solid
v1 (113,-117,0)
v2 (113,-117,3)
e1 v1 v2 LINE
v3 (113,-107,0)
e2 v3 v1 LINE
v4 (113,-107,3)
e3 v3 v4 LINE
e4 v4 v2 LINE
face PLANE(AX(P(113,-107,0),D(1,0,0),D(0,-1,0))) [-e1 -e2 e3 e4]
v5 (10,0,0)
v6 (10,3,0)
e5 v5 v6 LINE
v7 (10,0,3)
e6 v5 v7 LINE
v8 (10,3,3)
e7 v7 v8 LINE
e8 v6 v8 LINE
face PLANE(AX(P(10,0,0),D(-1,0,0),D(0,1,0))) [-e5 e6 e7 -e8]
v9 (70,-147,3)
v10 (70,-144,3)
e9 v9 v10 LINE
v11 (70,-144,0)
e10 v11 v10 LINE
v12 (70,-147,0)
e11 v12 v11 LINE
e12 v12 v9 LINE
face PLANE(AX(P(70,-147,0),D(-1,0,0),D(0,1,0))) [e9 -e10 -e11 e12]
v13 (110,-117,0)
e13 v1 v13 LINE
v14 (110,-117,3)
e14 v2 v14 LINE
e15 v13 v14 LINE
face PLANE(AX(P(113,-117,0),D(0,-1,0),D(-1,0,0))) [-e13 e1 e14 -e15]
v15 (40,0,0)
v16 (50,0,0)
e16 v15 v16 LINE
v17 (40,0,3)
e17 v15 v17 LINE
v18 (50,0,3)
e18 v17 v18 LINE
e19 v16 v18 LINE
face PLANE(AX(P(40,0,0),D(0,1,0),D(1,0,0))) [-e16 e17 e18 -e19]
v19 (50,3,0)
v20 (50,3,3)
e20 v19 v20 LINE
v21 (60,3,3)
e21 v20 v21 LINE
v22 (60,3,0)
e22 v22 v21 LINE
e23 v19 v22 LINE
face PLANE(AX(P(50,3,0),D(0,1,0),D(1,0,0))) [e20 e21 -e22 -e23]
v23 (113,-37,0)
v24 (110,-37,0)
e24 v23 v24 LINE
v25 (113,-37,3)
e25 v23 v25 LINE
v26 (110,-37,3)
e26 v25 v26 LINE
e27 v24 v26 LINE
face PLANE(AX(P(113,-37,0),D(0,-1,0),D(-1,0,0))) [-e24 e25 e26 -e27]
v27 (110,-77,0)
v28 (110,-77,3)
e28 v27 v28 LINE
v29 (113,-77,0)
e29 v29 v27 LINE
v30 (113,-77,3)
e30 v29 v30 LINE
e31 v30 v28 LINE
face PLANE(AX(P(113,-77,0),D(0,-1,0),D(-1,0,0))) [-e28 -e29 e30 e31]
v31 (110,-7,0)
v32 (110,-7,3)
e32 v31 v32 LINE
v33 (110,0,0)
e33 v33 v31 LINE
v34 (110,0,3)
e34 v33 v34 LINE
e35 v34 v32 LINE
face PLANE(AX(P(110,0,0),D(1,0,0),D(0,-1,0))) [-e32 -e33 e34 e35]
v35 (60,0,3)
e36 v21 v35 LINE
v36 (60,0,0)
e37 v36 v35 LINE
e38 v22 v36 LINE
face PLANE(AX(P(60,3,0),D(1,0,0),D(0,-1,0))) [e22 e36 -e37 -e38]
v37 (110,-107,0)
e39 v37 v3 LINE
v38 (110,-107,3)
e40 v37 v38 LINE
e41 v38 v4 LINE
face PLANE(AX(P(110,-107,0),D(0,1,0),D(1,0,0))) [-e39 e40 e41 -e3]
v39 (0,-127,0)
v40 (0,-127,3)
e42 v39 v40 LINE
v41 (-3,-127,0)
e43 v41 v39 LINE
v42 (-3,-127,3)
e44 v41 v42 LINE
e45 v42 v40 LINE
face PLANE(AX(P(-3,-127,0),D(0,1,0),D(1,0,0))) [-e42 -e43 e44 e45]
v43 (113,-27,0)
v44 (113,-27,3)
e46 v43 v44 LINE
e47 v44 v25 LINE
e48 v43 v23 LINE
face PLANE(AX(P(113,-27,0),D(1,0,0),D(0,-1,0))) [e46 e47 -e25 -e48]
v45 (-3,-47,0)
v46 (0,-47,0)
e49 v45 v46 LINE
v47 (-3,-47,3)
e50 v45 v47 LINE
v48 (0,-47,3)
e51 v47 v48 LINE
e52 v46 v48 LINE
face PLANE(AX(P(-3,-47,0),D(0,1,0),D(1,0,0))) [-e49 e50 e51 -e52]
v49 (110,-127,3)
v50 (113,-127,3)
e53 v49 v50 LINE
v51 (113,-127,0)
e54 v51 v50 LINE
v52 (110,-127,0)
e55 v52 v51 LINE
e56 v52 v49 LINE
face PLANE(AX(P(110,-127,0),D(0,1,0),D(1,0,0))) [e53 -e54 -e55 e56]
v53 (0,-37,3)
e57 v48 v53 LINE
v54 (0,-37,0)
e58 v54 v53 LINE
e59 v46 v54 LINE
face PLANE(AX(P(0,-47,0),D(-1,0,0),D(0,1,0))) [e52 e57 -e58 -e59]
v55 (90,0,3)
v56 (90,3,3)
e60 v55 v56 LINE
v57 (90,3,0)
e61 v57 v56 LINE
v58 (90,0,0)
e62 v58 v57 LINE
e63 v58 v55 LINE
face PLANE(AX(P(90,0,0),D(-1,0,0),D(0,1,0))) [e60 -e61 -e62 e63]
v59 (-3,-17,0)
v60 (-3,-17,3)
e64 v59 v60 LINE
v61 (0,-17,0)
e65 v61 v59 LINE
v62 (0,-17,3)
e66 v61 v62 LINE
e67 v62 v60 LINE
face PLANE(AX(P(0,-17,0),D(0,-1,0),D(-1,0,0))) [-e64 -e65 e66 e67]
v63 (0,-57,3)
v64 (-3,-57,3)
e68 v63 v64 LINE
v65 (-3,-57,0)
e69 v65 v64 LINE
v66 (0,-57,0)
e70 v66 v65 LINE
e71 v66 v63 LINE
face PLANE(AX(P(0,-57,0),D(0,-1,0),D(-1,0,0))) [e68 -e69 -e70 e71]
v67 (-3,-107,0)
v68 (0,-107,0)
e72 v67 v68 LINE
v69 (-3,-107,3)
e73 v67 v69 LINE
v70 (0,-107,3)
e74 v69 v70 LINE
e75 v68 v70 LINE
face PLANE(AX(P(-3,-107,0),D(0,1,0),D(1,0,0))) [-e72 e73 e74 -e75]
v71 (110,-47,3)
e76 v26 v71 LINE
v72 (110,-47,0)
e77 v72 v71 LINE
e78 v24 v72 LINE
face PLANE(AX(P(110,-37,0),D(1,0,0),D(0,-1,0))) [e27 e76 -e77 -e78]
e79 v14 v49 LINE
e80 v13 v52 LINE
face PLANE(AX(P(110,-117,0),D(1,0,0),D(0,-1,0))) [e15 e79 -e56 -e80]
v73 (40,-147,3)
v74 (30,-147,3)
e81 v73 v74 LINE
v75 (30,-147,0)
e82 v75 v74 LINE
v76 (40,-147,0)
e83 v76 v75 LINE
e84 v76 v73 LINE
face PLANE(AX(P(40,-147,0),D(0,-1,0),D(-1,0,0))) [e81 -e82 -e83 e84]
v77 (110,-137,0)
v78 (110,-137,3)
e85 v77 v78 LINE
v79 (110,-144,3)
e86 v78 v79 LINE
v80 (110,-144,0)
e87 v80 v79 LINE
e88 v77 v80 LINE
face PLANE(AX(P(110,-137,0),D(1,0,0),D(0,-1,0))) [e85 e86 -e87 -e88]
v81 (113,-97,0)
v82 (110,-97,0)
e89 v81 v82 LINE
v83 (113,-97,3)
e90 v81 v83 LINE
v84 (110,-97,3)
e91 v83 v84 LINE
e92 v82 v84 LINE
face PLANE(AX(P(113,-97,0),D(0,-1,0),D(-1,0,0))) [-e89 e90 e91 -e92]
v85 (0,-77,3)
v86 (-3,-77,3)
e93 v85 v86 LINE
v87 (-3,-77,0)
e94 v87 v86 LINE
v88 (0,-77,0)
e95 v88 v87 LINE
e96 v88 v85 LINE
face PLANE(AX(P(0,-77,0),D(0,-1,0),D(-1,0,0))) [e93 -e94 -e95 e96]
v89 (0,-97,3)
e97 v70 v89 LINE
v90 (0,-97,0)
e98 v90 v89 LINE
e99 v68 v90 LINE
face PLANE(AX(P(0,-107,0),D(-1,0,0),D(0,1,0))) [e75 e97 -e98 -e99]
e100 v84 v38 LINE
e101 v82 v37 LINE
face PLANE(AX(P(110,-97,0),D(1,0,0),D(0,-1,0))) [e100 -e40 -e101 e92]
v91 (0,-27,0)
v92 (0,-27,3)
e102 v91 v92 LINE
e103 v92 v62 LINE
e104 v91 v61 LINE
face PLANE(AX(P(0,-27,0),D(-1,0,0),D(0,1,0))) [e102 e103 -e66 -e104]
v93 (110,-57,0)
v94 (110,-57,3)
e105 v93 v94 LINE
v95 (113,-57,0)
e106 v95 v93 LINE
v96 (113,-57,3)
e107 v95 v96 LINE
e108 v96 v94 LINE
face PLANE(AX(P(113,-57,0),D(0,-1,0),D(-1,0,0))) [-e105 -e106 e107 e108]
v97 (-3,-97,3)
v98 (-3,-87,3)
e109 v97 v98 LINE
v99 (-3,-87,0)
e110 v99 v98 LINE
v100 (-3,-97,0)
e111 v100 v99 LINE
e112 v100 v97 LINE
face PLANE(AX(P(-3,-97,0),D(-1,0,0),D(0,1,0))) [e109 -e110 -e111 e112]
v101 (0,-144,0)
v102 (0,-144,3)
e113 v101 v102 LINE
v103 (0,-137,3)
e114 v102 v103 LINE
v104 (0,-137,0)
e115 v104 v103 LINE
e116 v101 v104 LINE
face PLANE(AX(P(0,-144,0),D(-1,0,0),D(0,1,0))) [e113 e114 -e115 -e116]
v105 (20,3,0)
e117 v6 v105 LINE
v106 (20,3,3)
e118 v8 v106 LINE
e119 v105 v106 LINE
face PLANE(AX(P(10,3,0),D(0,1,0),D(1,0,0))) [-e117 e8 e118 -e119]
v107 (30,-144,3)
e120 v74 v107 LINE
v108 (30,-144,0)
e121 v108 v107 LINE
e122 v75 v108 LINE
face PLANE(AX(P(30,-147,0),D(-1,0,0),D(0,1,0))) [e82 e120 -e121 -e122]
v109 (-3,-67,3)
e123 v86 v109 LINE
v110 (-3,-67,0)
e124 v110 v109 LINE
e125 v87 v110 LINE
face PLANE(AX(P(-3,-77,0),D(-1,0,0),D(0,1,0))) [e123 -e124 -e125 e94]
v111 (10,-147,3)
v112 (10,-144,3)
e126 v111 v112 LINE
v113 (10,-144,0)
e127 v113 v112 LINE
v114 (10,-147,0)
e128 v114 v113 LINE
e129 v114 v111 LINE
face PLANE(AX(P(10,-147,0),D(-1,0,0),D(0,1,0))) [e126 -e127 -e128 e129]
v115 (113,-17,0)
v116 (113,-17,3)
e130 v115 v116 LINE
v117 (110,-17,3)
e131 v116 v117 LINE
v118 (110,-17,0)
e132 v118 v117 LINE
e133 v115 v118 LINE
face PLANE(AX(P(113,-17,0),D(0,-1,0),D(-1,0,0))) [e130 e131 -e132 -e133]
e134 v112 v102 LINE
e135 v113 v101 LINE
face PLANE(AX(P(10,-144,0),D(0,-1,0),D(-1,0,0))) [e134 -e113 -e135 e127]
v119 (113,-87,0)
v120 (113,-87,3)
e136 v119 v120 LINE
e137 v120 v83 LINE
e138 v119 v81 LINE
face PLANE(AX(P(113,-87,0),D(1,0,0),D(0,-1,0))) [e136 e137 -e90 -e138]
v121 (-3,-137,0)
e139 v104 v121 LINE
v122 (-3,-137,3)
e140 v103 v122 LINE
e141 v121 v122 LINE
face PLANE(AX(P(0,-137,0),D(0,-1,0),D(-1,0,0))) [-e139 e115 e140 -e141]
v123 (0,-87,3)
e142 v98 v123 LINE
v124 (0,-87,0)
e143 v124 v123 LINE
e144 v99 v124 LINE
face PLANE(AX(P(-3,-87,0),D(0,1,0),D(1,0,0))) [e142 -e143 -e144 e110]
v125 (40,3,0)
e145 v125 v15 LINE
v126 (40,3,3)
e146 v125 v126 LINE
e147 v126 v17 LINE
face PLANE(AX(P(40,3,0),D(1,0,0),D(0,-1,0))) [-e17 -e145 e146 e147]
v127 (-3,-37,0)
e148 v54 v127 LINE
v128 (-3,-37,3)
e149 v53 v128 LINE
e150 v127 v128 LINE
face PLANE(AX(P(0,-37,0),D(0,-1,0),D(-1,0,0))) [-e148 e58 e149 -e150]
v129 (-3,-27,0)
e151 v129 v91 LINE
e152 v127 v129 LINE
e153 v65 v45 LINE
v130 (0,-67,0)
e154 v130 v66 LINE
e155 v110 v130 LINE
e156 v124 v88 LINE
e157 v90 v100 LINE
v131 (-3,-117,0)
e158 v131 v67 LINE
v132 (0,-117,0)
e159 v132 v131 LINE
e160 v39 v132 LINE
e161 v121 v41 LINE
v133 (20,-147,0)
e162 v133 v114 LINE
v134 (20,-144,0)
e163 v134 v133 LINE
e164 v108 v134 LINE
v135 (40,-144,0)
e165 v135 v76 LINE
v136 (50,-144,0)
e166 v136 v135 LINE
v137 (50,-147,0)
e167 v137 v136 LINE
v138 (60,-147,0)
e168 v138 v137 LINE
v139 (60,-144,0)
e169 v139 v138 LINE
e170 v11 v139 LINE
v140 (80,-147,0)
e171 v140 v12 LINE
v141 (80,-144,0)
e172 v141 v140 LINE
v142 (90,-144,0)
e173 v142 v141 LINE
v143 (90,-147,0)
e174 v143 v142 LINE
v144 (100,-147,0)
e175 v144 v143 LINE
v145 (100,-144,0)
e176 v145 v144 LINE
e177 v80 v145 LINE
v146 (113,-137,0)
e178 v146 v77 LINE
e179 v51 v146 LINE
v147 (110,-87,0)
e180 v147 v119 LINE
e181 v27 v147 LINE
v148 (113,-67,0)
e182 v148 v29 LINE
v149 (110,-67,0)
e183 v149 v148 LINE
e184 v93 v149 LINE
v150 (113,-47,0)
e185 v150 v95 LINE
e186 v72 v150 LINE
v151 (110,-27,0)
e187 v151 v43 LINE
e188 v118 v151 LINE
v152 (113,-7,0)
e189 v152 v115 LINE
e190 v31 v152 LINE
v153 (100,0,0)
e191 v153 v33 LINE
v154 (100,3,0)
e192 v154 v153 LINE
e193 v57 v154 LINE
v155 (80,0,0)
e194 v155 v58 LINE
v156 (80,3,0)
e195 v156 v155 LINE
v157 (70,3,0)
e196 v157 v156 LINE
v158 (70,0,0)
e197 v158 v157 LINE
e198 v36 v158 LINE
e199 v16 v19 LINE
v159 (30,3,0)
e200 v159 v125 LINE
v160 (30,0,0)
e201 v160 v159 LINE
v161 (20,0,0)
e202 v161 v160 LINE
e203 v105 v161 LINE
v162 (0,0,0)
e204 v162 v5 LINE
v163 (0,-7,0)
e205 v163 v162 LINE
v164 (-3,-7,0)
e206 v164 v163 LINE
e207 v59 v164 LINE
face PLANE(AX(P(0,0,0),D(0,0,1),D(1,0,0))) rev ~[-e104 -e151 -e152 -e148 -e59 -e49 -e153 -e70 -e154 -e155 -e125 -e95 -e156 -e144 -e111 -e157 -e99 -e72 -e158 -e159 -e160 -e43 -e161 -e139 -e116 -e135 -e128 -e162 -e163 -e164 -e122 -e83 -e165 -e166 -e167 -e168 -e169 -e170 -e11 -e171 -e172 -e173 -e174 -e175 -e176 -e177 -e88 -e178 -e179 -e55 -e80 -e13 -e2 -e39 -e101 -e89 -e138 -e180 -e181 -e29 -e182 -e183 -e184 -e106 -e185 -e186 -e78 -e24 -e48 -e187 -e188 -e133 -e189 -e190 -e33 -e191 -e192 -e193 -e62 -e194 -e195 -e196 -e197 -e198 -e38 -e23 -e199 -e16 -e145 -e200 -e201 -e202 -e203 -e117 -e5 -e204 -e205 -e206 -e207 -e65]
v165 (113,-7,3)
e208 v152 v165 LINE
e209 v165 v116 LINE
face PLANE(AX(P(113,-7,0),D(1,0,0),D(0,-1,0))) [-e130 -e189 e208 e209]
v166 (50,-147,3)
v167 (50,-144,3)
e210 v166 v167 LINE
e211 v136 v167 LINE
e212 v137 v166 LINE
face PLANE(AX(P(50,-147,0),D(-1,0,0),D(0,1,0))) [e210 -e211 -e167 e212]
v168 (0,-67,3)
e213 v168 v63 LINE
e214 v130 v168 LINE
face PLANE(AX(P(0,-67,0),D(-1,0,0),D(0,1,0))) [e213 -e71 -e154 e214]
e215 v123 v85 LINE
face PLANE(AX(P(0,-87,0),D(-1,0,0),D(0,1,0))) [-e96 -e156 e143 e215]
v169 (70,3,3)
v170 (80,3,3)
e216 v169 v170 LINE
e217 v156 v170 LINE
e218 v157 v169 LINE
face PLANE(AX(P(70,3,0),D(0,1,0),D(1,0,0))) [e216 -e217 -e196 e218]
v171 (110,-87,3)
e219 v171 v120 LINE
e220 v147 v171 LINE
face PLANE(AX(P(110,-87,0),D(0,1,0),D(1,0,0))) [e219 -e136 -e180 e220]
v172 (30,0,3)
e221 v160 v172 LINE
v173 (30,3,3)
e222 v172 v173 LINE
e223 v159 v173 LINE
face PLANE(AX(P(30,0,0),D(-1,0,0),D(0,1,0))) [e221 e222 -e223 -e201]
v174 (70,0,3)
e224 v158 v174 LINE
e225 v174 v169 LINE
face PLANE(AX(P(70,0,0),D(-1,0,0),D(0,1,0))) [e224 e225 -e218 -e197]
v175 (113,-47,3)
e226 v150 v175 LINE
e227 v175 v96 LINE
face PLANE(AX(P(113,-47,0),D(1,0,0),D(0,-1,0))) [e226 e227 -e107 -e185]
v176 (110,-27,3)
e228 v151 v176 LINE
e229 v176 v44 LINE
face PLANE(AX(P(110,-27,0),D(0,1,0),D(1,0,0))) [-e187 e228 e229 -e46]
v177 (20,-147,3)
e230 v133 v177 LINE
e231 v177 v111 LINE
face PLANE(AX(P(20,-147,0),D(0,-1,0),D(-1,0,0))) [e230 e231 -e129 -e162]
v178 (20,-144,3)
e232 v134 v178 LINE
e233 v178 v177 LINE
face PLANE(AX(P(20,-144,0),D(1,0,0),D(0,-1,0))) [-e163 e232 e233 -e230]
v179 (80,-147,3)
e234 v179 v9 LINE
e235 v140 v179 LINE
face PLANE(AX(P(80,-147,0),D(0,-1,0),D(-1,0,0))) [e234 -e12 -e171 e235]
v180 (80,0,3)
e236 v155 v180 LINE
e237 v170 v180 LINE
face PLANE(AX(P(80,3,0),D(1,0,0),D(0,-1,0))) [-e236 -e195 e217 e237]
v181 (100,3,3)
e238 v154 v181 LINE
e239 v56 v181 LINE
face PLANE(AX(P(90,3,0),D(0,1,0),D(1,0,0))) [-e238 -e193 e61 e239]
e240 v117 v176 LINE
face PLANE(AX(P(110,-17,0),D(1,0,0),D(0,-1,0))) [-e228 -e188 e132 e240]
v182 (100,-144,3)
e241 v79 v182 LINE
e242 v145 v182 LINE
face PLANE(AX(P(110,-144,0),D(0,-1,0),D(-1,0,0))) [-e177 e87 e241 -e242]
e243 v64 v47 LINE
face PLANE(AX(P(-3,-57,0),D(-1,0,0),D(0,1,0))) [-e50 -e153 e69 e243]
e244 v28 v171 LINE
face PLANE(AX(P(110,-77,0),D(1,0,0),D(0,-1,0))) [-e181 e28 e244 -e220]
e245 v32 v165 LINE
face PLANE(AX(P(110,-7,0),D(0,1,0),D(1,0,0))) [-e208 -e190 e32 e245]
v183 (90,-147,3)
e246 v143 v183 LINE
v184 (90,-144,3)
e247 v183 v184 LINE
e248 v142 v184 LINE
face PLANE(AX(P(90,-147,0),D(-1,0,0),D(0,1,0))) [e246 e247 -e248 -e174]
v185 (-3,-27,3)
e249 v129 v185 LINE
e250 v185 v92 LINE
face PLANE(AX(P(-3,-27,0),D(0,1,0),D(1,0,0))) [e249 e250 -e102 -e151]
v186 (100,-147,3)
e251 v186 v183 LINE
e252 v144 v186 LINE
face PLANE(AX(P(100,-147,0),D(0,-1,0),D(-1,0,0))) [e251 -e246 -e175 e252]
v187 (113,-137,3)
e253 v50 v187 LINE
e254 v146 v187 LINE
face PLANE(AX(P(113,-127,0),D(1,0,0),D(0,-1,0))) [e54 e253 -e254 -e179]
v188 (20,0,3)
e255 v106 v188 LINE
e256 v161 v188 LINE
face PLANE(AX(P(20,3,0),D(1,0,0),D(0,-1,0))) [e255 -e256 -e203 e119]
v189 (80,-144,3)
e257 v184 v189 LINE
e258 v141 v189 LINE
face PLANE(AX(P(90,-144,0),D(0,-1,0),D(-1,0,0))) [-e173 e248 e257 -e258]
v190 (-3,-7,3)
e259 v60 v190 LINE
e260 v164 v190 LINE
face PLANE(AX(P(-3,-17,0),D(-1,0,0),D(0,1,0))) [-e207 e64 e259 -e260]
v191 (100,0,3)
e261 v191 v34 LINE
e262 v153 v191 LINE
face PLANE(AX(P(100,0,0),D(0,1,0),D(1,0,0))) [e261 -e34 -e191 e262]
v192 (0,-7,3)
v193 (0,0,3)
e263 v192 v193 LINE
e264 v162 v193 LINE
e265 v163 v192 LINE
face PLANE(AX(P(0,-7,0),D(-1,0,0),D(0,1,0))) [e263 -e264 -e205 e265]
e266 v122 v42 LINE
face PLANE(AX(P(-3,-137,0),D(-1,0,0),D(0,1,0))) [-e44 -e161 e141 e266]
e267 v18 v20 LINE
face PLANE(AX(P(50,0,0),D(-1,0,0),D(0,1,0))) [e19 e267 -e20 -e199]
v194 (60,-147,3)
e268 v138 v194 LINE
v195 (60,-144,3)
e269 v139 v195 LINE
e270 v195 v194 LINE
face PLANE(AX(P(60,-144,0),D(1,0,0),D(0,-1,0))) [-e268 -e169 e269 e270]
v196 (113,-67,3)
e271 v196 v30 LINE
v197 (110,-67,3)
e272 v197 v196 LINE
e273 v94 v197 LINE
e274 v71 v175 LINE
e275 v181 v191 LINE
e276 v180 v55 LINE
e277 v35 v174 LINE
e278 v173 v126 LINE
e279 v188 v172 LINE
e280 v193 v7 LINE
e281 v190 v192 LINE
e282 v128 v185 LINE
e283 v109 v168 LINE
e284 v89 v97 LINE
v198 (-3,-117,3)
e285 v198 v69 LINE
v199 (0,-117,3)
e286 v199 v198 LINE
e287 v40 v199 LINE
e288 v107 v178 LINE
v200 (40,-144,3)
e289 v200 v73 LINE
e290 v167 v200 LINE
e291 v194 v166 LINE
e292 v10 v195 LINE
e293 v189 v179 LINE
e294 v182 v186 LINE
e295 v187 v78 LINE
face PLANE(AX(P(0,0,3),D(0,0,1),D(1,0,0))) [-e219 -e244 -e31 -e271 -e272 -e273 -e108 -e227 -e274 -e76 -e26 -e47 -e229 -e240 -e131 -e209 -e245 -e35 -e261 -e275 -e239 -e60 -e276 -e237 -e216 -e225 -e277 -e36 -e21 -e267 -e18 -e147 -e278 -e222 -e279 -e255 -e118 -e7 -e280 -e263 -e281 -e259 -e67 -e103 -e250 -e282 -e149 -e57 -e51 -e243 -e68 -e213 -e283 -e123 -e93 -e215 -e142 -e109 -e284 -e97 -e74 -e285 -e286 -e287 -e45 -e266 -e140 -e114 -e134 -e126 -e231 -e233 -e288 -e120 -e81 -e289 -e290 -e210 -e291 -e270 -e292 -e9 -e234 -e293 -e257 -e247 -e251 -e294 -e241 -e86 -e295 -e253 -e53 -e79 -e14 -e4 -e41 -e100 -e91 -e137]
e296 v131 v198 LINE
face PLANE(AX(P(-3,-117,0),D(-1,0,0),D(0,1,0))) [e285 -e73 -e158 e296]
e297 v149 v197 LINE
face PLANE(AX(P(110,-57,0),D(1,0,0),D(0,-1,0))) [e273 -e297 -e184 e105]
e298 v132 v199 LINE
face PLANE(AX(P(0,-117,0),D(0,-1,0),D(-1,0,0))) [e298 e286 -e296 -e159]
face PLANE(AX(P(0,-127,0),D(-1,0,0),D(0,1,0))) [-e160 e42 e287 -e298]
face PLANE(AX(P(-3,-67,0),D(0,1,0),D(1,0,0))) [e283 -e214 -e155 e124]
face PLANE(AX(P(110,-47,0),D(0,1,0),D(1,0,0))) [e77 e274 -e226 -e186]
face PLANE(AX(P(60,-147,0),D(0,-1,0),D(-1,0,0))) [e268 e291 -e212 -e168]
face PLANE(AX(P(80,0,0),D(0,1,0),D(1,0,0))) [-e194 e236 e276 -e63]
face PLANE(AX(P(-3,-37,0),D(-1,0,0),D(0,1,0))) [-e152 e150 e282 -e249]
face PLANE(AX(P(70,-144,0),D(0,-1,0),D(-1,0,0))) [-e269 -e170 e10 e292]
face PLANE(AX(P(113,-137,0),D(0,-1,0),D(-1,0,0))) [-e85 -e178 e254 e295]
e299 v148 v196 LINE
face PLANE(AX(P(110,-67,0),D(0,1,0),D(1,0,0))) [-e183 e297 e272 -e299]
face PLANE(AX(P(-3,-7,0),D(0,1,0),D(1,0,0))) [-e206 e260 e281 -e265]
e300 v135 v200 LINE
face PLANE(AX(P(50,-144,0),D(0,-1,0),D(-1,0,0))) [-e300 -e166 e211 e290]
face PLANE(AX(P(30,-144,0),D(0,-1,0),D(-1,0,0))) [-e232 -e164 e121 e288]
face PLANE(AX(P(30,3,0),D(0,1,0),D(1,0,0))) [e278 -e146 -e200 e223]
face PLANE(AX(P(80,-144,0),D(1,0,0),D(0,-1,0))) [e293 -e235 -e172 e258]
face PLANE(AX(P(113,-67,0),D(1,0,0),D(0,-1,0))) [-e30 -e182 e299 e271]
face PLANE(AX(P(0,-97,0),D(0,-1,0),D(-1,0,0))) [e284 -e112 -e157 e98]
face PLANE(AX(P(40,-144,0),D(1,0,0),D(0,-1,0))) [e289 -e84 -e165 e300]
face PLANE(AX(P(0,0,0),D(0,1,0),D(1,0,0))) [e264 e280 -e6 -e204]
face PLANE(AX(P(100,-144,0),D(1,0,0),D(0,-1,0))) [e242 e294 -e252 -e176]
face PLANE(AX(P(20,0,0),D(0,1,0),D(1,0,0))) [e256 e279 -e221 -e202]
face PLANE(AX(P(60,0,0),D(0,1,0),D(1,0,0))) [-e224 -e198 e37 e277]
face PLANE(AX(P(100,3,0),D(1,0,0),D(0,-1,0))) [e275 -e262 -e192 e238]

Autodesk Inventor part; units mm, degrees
ref_plane "YZ Plane" through (0, 0, 0) normal (1, 0, 0) x (0, 1, 0)
ref_plane "XZ Plane" through (0, 0, 0) normal (0, 1, 0) x (-1, 0, 0)
ref_plane "XY Plane" through (0, 0, 0) normal (0, 0, 1) x (1, 0, 0)
sketch "Sketch1" plane through (0, 0, 0) normal (0, 0, 1) x (1, 0, 0)
  line L0 (311.0517, -16.9965) -> (311.0486, -14.2996) construction
  line L1 (311.0486, -14.2996) -> (302.0591, -14.3097) construction
  line L2 (302.0591, -14.3097) -> (302.0622, -17.0066) construction
  line L3 (302.0622, -17.0066) -> (293.0727, -17.0167) construction
  line L4 (293.0727, -17.0167) -> (293.0696, -14.3199) construction
  line L5 (293.0696, -14.3199) -> (284.0801, -14.33) construction
  line L6 (284.0801, -14.33) -> (284.0832, -17.0268) construction
  line L7 (284.0832, -17.0268) -> (275.0937, -17.0369) construction
  line L8 (275.0937, -17.0369) -> (275.0906, -14.3401) construction
  line L9 (275.0906, -14.3401) -> (266.1012, -14.3502) construction
  line L10 (266.1012, -14.3502) -> (266.1042, -17.047) construction
  line L11 (266.1042, -17.047) -> (257.1147, -17.0571) construction
  line L12 (257.1147, -17.0571) -> (257.1117, -14.3603) construction
  line L13 (257.1117, -14.3603) -> (248.1222, -14.3704) construction
  line L14 (248.1222, -14.3704) -> (248.1252, -17.0672) construction
  line L15 (248.1252, -17.0672) -> (239.1357, -17.0773) construction
  line L16 (239.1357, -17.0773) -> (239.1327, -14.3805) construction
  line L17 (239.1327, -14.3805) -> (230.1432, -14.3906) construction
  line L18 (230.1432, -14.3906) -> (230.1462, -17.0874) construction
  line L19 (320.0411, -23.2891) -> (322.738, -23.2891) construction
  line L20 (322.738, -23.2891) -> (322.738, -32.986) construction
  line L21 (322.738, -32.986) -> (320.0411, -32.986) construction
  line L22 (320.0411, -32.986) -> (320.0411, -41.9755) construction
  line L23 (320.0411, -41.9755) -> (322.738, -41.9755) construction
  line L24 (322.738, -41.9755) -> (322.738, -50.965) construction
  line L25 (322.738, -50.965) -> (320.0411, -50.965) construction
  line L26 (320.0411, -50.965) -> (320.0411, -59.9545) construction
  line L27 (320.0411, -59.9545) -> (322.738, -59.9545) construction
  line L28 (322.738, -59.9545) -> (322.738, -68.944) construction
  line L29 (322.738, -68.944) -> (320.0411, -68.944) construction
  line L30 (320.0411, -68.944) -> (320.0411, -77.9335) construction
  line L31 (320.0411, -77.9335) -> (322.738, -77.9335) construction
  line L32 (322.738, -77.9335) -> (322.738, -86.9229) construction
  line L33 (322.738, -86.9229) -> (320.0411, -86.9229) construction
  line L34 (320.0411, -86.9229) -> (320.0411, -95.9124) construction
  line L35 (320.0411, -95.9124) -> (322.738, -95.9124) construction
  line L36 (322.738, -95.9124) -> (322.738, -104.9019) construction
  line L37 (322.738, -104.9019) -> (320.0411, -104.9019) construction
  line L38 (322.738, -113.8914) -> (323.0503, -123.1532) construction
  line L39 (323.0503, -123.1532) -> (328.4284, -122.9718) construction
  line L40 (328.4284, -122.9718) -> (328.4284, -131.9613) construction
  line L41 (328.4284, -131.9613) -> (331.1252, -131.9613) construction
  line L42 (331.1252, -131.9613) -> (331.1252, -140.9508) construction
  line L43 (331.1252, -140.9508) -> (328.4284, -140.9508) construction
  line L44 (328.4284, -140.9508) -> (328.4284, -147.2435) construction
  line L45 (318.4284, -147.2435) -> (318.4284, -149.9403) construction
  line L46 (318.4284, -149.9403) -> (308.4284, -149.9403) construction
  line L47 (308.4284, -149.9403) -> (308.4284, -147.2435) construction
  line L48 (308.4284, -147.2435) -> (298.4284, -147.2435) construction
  line L49 (298.4284, -147.2435) -> (298.4284, -149.9403) construction
  line L50 (298.4284, -149.9403) -> (288.4284, -149.9403) construction
  line L51 (288.4284, -149.9403) -> (288.4284, -147.2435) construction
  line L52 (288.4284, -147.2435) -> (278.4284, -147.2435) construction
  line L53 (278.4284, -147.2435) -> (278.4284, -149.9403) construction
  line L54 (278.4284, -149.9403) -> (268.4284, -149.9403) construction
  line L55 (268.4284, -149.9403) -> (268.4284, -147.2435) construction
  line L56 (268.4284, -147.2435) -> (258.4284, -147.2435) construction
  line L57 (258.4284, -147.2435) -> (258.4284, -149.9403) construction
  line L58 (258.4284, -149.9403) -> (248.4284, -149.9403) construction
  line L59 (248.4284, -149.9403) -> (248.4284, -147.2435) construction
  line L60 (248.4284, -147.2435) -> (239.4389, -147.2435) construction
  line L61 (239.4389, -147.2435) -> (239.4389, -149.9403) construction
  line L62 (239.4389, -149.9403) -> (230.4494, -149.9403) construction
  line L63 (230.4494, -149.9403) -> (230.4494, -147.2435) construction
  line L64 (218.4599, -140.9508) -> (218.4599, -131.9613) construction
  line L65 (218.4599, -131.9613) -> (221.1567, -131.9613) construction
  line L66 (221.1567, -131.9613) -> (221.1567, -122.9718) construction
  line L67 (221.1567, -122.9718) -> (218.4599, -122.9718) construction
  line L68 (218.4599, -122.9718) -> (218.4599, -113.9823) construction
  line L69 (218.4599, -113.9823) -> (221.1567, -113.9823) construction
  line L70 (221.1567, -113.9823) -> (221.1567, -104.9929) construction
  line L71 (221.1567, -104.9929) -> (218.4599, -104.9929) construction
  line L72 (218.4599, -104.9929) -> (218.4599, -96.0034) construction
  line L73 (218.4599, -96.0034) -> (221.1567, -96.0034) construction
  line L74 (221.1567, -96.0034) -> (221.1567, -87.0139) construction
  line L75 (221.1567, -87.0139) -> (218.4599, -87.0139) construction
  line L76 (218.4599, -87.0139) -> (218.4599, -78.0244) construction
  line L77 (218.4599, -78.0244) -> (221.1567, -78.0244) construction
  line L78 (221.1567, -78.0244) -> (221.1567, -69.0349) construction
  line L79 (221.1567, -69.0349) -> (218.4599, -69.0349) construction
  line L80 (218.4599, -69.0349) -> (218.4599, -60.0454) construction
  line L81 (218.4599, -60.0454) -> (221.1567, -60.0454) construction
  line L82 (221.1567, -60.0454) -> (221.1567, -51.0559) construction
  line L83 (221.1567, -51.0559) -> (218.4599, -51.0559) construction
  line L84 (218.4599, -51.0559) -> (218.4599, -42.0664) construction
  line L85 (218.4599, -42.0664) -> (221.1567, -42.0664) construction
  line L86 (221.1567, -42.0664) -> (221.1567, -33.0769) construction
  line L87 (221.1567, -33.0769) -> (218.4599, -33.0769) construction
  line L88 (218.4599, -33.0769) -> (218.4599, -24.0874) construction
  line L89 (218.4599, -24.0874) -> (221.1567, -24.0874) construction
  line L90 (221.1567, -24.0874) -> (221.1567, -17.0874) construction
  line L91 (320.0411, -104.9019) -> (320.0411, -113.8914) construction
  line L92 (320.0411, -113.8914) -> (322.738, -113.8914) construction
  line L93 (318.4284, -147.2435) -> (328.4284, -147.2435) construction
  line L94 (221.1567, -17.0874) -> (230.1462, -17.0874) construction
  line L95 (221.4599, -147.2435) -> (230.4494, -147.2435) construction
  line L96 (311.0517, -16.9965) -> (320.0411, -16.9965) construction
  line L97 (320.0411, -16.9965) -> (320.0411, -23.2891) construction
  line L98 (221.4599, -147.2435) -> (221.4599, -140.9508) construction
  line L99 (218.4599, -140.9508) -> (221.4599, -140.9508) construction
  line L100 (0, 0) -> (10, 0)
  line L101 (10, 0) -> (10, 3)
  line L102 (10, 3) -> (20, 3)
  line L103 (20, 3) -> (20, 0)
  line L104 (20, 0) -> (30, 0)
  line L105 (30, 0) -> (30, 3)
  line L106 (30, 3) -> (40, 3)
  line L107 (40, 3) -> (40, 0)
  line L108 (40, 0) -> (50, 0)
  line L109 (50, 0) -> (50, 3)
  line L110 (50, 3) -> (60, 3)
  line L111 (60, 3) -> (60, 0)
  line L112 (60, 0) -> (70, 0)
  line L113 (70, 0) -> (70, 3)
  line L114 (70, 3) -> (80, 3)
  line L115 (80, 3) -> (80, 0)
  line L116 (80, 0) -> (90, 0)
  line L117 (90, 0) -> (90, 3)
  line L118 (90, 3) -> (100, 3)
  line L119 (100, 3) -> (100, 0)
  line L120 (100, 0) -> (110, 0)
  line L121 (110, 0) -> (110, -7)
  line L122 (110, -7) -> (113, -7)
  line L123 (113, -7) -> (113, -17)
  line L124 (113, -17) -> (110, -17)
  line L125 (110, -17) -> (110, -27)
  line L126 (110, -27) -> (113, -27)
  line L127 (113, -27) -> (113, -37)
  line L128 (113, -37) -> (110, -37)
  line L129 (110, -37) -> (110, -47)
  line L130 (110, -47) -> (113, -47)
  line L131 (113, -47) -> (113, -57)
  line L132 (113, -57) -> (110, -57)
  line L133 (110, -57) -> (110, -67)
  line L134 (110, -67) -> (113, -67)
  line L135 (113, -67) -> (113, -77)
  line L136 (113, -77) -> (110, -77)
  line L137 (110, -77) -> (110, -87)
  line L138 (110, -87) -> (113, -87)
  line L139 (113, -87) -> (113, -97)
  line L140 (113, -97) -> (110, -97)
  line L141 (110, -97) -> (110, -107)
  line L142 (110, -107) -> (113, -107)
  line L143 (113, -107) -> (113, -117)
  line L144 (113, -117) -> (110, -117)
  line L145 (110, -117) -> (110, -127)
  line L146 (110, -127) -> (113, -127)
  line L147 (113, -127) -> (113, -137)
  line L148 (113, -137) -> (110, -137)
  line L149 (110, -137) -> (110, -144)
  line L150 (110, -144) -> (100, -144)
  line L151 (100, -144) -> (100, -147)
  line L152 (100, -147) -> (90, -147)
  line L153 (90, -147) -> (90, -144)
  line L154 (90, -144) -> (80, -144)
  line L155 (80, -144) -> (80, -147)
  line L156 (80, -147) -> (70, -147)
  line L157 (70, -147) -> (70, -144)
  line L158 (70, -144) -> (60, -144)
  line L159 (60, -144) -> (60, -147)
  line L160 (60, -147) -> (50, -147)
  line L161 (50, -147) -> (50, -144)
  line L162 (50, -144) -> (40, -144)
  line L163 (40, -144) -> (40, -147)
  line L164 (40, -147) -> (30, -147)
  line L165 (30, -147) -> (30, -144)
  line L166 (30, -144) -> (20, -144)
  line L167 (20, -144) -> (20, -147)
  line L168 (20, -147) -> (10, -147)
  line L169 (10, -147) -> (10, -144)
  line L170 (10, -144) -> (0, -144)
  line L171 (0, -144) -> (0, -137)
  line L172 (0, -137) -> (-3, -137)
  line L173 (-3, -137) -> (-3, -127)
  line L174 (-3, -127) -> (0, -127)
  line L175 (0, -127) -> (0, -117)
  line L176 (0, -117) -> (-3, -117)
  line L177 (-3, -117) -> (-3, -107)
  line L178 (-3, -107) -> (0, -107)
  line L179 (0, -107) -> (0, -97)
  line L180 (0, -97) -> (-3, -97)
  line L181 (-3, -97) -> (-3, -87)
  line L182 (-3, -87) -> (0, -87)
  line L183 (0, -87) -> (0, -77)
  line L184 (0, -77) -> (-3, -77)
  line L185 (-3, -77) -> (-3, -67)
  line L186 (-3, -67) -> (0, -67)
  line L187 (0, -67) -> (0, -57)
  line L188 (0, -57) -> (-3, -57)
  line L189 (-3, -57) -> (-3, -47)
  line L190 (-3, -47) -> (0, -47)
  line L191 (0, -47) -> (0, -37)
  line L192 (0, -37) -> (-3, -37)
  line L193 (-3, -37) -> (-3, -27)
  line L194 (-3, -27) -> (0, -27)
  line L195 (0, -27) -> (0, -17)
  line L196 (0, -17) -> (-3, -17)
  line L197 (-3, -17) -> (-3, -7)
  line L198 (-3, -7) -> (0, -7)
  line L199 (0, -7) -> (0, 0)
  dimension "d263" = 8.9895
  dimension "d264" = 7
  dimension "d265" = 10
  dimension "d266" = 3
  dimension "d267" = 10
  dimension "d268" = 10
  dimension "d269" = 10
  dimension "d270" = 10
  dimension "d271" = 10
  dimension "d272" = 10
  dimension "d273" = 10
  dimension "d274" = 10
  dimension "d275" = 10
  dimension "d276" = 10
  dimension "d277" = 7
  dimension "d278" = 3
  dimension "d279" = 10
  dimension "d280" = 10
  dimension "d281" = 10
  dimension "d282" = 10
  dimension "d283" = 10
  dimension "d284" = 10
  dimension "d285" = 10
  dimension "d286" = 10
  dimension "d287" = 10
  dimension "d288" = 10
  dimension "d289" = 10
  dimension "d290" = 10
  dimension "d291" = 10
  dimension "d292" = 7
  dimension "d293" = 3
  dimension "d294" = 3
  dimension "d295" = 110
  dimension "d296" = 144
  dimension "d297" = 3
  dimension "d298" = 3
  dimension "d299" = 3
  dimension "d300" = 3
  dimension "d301" = 3
extrude "Extrusion1" add sketch "Sketch1" along normal blind 3
properties part number "cara_posterior"
